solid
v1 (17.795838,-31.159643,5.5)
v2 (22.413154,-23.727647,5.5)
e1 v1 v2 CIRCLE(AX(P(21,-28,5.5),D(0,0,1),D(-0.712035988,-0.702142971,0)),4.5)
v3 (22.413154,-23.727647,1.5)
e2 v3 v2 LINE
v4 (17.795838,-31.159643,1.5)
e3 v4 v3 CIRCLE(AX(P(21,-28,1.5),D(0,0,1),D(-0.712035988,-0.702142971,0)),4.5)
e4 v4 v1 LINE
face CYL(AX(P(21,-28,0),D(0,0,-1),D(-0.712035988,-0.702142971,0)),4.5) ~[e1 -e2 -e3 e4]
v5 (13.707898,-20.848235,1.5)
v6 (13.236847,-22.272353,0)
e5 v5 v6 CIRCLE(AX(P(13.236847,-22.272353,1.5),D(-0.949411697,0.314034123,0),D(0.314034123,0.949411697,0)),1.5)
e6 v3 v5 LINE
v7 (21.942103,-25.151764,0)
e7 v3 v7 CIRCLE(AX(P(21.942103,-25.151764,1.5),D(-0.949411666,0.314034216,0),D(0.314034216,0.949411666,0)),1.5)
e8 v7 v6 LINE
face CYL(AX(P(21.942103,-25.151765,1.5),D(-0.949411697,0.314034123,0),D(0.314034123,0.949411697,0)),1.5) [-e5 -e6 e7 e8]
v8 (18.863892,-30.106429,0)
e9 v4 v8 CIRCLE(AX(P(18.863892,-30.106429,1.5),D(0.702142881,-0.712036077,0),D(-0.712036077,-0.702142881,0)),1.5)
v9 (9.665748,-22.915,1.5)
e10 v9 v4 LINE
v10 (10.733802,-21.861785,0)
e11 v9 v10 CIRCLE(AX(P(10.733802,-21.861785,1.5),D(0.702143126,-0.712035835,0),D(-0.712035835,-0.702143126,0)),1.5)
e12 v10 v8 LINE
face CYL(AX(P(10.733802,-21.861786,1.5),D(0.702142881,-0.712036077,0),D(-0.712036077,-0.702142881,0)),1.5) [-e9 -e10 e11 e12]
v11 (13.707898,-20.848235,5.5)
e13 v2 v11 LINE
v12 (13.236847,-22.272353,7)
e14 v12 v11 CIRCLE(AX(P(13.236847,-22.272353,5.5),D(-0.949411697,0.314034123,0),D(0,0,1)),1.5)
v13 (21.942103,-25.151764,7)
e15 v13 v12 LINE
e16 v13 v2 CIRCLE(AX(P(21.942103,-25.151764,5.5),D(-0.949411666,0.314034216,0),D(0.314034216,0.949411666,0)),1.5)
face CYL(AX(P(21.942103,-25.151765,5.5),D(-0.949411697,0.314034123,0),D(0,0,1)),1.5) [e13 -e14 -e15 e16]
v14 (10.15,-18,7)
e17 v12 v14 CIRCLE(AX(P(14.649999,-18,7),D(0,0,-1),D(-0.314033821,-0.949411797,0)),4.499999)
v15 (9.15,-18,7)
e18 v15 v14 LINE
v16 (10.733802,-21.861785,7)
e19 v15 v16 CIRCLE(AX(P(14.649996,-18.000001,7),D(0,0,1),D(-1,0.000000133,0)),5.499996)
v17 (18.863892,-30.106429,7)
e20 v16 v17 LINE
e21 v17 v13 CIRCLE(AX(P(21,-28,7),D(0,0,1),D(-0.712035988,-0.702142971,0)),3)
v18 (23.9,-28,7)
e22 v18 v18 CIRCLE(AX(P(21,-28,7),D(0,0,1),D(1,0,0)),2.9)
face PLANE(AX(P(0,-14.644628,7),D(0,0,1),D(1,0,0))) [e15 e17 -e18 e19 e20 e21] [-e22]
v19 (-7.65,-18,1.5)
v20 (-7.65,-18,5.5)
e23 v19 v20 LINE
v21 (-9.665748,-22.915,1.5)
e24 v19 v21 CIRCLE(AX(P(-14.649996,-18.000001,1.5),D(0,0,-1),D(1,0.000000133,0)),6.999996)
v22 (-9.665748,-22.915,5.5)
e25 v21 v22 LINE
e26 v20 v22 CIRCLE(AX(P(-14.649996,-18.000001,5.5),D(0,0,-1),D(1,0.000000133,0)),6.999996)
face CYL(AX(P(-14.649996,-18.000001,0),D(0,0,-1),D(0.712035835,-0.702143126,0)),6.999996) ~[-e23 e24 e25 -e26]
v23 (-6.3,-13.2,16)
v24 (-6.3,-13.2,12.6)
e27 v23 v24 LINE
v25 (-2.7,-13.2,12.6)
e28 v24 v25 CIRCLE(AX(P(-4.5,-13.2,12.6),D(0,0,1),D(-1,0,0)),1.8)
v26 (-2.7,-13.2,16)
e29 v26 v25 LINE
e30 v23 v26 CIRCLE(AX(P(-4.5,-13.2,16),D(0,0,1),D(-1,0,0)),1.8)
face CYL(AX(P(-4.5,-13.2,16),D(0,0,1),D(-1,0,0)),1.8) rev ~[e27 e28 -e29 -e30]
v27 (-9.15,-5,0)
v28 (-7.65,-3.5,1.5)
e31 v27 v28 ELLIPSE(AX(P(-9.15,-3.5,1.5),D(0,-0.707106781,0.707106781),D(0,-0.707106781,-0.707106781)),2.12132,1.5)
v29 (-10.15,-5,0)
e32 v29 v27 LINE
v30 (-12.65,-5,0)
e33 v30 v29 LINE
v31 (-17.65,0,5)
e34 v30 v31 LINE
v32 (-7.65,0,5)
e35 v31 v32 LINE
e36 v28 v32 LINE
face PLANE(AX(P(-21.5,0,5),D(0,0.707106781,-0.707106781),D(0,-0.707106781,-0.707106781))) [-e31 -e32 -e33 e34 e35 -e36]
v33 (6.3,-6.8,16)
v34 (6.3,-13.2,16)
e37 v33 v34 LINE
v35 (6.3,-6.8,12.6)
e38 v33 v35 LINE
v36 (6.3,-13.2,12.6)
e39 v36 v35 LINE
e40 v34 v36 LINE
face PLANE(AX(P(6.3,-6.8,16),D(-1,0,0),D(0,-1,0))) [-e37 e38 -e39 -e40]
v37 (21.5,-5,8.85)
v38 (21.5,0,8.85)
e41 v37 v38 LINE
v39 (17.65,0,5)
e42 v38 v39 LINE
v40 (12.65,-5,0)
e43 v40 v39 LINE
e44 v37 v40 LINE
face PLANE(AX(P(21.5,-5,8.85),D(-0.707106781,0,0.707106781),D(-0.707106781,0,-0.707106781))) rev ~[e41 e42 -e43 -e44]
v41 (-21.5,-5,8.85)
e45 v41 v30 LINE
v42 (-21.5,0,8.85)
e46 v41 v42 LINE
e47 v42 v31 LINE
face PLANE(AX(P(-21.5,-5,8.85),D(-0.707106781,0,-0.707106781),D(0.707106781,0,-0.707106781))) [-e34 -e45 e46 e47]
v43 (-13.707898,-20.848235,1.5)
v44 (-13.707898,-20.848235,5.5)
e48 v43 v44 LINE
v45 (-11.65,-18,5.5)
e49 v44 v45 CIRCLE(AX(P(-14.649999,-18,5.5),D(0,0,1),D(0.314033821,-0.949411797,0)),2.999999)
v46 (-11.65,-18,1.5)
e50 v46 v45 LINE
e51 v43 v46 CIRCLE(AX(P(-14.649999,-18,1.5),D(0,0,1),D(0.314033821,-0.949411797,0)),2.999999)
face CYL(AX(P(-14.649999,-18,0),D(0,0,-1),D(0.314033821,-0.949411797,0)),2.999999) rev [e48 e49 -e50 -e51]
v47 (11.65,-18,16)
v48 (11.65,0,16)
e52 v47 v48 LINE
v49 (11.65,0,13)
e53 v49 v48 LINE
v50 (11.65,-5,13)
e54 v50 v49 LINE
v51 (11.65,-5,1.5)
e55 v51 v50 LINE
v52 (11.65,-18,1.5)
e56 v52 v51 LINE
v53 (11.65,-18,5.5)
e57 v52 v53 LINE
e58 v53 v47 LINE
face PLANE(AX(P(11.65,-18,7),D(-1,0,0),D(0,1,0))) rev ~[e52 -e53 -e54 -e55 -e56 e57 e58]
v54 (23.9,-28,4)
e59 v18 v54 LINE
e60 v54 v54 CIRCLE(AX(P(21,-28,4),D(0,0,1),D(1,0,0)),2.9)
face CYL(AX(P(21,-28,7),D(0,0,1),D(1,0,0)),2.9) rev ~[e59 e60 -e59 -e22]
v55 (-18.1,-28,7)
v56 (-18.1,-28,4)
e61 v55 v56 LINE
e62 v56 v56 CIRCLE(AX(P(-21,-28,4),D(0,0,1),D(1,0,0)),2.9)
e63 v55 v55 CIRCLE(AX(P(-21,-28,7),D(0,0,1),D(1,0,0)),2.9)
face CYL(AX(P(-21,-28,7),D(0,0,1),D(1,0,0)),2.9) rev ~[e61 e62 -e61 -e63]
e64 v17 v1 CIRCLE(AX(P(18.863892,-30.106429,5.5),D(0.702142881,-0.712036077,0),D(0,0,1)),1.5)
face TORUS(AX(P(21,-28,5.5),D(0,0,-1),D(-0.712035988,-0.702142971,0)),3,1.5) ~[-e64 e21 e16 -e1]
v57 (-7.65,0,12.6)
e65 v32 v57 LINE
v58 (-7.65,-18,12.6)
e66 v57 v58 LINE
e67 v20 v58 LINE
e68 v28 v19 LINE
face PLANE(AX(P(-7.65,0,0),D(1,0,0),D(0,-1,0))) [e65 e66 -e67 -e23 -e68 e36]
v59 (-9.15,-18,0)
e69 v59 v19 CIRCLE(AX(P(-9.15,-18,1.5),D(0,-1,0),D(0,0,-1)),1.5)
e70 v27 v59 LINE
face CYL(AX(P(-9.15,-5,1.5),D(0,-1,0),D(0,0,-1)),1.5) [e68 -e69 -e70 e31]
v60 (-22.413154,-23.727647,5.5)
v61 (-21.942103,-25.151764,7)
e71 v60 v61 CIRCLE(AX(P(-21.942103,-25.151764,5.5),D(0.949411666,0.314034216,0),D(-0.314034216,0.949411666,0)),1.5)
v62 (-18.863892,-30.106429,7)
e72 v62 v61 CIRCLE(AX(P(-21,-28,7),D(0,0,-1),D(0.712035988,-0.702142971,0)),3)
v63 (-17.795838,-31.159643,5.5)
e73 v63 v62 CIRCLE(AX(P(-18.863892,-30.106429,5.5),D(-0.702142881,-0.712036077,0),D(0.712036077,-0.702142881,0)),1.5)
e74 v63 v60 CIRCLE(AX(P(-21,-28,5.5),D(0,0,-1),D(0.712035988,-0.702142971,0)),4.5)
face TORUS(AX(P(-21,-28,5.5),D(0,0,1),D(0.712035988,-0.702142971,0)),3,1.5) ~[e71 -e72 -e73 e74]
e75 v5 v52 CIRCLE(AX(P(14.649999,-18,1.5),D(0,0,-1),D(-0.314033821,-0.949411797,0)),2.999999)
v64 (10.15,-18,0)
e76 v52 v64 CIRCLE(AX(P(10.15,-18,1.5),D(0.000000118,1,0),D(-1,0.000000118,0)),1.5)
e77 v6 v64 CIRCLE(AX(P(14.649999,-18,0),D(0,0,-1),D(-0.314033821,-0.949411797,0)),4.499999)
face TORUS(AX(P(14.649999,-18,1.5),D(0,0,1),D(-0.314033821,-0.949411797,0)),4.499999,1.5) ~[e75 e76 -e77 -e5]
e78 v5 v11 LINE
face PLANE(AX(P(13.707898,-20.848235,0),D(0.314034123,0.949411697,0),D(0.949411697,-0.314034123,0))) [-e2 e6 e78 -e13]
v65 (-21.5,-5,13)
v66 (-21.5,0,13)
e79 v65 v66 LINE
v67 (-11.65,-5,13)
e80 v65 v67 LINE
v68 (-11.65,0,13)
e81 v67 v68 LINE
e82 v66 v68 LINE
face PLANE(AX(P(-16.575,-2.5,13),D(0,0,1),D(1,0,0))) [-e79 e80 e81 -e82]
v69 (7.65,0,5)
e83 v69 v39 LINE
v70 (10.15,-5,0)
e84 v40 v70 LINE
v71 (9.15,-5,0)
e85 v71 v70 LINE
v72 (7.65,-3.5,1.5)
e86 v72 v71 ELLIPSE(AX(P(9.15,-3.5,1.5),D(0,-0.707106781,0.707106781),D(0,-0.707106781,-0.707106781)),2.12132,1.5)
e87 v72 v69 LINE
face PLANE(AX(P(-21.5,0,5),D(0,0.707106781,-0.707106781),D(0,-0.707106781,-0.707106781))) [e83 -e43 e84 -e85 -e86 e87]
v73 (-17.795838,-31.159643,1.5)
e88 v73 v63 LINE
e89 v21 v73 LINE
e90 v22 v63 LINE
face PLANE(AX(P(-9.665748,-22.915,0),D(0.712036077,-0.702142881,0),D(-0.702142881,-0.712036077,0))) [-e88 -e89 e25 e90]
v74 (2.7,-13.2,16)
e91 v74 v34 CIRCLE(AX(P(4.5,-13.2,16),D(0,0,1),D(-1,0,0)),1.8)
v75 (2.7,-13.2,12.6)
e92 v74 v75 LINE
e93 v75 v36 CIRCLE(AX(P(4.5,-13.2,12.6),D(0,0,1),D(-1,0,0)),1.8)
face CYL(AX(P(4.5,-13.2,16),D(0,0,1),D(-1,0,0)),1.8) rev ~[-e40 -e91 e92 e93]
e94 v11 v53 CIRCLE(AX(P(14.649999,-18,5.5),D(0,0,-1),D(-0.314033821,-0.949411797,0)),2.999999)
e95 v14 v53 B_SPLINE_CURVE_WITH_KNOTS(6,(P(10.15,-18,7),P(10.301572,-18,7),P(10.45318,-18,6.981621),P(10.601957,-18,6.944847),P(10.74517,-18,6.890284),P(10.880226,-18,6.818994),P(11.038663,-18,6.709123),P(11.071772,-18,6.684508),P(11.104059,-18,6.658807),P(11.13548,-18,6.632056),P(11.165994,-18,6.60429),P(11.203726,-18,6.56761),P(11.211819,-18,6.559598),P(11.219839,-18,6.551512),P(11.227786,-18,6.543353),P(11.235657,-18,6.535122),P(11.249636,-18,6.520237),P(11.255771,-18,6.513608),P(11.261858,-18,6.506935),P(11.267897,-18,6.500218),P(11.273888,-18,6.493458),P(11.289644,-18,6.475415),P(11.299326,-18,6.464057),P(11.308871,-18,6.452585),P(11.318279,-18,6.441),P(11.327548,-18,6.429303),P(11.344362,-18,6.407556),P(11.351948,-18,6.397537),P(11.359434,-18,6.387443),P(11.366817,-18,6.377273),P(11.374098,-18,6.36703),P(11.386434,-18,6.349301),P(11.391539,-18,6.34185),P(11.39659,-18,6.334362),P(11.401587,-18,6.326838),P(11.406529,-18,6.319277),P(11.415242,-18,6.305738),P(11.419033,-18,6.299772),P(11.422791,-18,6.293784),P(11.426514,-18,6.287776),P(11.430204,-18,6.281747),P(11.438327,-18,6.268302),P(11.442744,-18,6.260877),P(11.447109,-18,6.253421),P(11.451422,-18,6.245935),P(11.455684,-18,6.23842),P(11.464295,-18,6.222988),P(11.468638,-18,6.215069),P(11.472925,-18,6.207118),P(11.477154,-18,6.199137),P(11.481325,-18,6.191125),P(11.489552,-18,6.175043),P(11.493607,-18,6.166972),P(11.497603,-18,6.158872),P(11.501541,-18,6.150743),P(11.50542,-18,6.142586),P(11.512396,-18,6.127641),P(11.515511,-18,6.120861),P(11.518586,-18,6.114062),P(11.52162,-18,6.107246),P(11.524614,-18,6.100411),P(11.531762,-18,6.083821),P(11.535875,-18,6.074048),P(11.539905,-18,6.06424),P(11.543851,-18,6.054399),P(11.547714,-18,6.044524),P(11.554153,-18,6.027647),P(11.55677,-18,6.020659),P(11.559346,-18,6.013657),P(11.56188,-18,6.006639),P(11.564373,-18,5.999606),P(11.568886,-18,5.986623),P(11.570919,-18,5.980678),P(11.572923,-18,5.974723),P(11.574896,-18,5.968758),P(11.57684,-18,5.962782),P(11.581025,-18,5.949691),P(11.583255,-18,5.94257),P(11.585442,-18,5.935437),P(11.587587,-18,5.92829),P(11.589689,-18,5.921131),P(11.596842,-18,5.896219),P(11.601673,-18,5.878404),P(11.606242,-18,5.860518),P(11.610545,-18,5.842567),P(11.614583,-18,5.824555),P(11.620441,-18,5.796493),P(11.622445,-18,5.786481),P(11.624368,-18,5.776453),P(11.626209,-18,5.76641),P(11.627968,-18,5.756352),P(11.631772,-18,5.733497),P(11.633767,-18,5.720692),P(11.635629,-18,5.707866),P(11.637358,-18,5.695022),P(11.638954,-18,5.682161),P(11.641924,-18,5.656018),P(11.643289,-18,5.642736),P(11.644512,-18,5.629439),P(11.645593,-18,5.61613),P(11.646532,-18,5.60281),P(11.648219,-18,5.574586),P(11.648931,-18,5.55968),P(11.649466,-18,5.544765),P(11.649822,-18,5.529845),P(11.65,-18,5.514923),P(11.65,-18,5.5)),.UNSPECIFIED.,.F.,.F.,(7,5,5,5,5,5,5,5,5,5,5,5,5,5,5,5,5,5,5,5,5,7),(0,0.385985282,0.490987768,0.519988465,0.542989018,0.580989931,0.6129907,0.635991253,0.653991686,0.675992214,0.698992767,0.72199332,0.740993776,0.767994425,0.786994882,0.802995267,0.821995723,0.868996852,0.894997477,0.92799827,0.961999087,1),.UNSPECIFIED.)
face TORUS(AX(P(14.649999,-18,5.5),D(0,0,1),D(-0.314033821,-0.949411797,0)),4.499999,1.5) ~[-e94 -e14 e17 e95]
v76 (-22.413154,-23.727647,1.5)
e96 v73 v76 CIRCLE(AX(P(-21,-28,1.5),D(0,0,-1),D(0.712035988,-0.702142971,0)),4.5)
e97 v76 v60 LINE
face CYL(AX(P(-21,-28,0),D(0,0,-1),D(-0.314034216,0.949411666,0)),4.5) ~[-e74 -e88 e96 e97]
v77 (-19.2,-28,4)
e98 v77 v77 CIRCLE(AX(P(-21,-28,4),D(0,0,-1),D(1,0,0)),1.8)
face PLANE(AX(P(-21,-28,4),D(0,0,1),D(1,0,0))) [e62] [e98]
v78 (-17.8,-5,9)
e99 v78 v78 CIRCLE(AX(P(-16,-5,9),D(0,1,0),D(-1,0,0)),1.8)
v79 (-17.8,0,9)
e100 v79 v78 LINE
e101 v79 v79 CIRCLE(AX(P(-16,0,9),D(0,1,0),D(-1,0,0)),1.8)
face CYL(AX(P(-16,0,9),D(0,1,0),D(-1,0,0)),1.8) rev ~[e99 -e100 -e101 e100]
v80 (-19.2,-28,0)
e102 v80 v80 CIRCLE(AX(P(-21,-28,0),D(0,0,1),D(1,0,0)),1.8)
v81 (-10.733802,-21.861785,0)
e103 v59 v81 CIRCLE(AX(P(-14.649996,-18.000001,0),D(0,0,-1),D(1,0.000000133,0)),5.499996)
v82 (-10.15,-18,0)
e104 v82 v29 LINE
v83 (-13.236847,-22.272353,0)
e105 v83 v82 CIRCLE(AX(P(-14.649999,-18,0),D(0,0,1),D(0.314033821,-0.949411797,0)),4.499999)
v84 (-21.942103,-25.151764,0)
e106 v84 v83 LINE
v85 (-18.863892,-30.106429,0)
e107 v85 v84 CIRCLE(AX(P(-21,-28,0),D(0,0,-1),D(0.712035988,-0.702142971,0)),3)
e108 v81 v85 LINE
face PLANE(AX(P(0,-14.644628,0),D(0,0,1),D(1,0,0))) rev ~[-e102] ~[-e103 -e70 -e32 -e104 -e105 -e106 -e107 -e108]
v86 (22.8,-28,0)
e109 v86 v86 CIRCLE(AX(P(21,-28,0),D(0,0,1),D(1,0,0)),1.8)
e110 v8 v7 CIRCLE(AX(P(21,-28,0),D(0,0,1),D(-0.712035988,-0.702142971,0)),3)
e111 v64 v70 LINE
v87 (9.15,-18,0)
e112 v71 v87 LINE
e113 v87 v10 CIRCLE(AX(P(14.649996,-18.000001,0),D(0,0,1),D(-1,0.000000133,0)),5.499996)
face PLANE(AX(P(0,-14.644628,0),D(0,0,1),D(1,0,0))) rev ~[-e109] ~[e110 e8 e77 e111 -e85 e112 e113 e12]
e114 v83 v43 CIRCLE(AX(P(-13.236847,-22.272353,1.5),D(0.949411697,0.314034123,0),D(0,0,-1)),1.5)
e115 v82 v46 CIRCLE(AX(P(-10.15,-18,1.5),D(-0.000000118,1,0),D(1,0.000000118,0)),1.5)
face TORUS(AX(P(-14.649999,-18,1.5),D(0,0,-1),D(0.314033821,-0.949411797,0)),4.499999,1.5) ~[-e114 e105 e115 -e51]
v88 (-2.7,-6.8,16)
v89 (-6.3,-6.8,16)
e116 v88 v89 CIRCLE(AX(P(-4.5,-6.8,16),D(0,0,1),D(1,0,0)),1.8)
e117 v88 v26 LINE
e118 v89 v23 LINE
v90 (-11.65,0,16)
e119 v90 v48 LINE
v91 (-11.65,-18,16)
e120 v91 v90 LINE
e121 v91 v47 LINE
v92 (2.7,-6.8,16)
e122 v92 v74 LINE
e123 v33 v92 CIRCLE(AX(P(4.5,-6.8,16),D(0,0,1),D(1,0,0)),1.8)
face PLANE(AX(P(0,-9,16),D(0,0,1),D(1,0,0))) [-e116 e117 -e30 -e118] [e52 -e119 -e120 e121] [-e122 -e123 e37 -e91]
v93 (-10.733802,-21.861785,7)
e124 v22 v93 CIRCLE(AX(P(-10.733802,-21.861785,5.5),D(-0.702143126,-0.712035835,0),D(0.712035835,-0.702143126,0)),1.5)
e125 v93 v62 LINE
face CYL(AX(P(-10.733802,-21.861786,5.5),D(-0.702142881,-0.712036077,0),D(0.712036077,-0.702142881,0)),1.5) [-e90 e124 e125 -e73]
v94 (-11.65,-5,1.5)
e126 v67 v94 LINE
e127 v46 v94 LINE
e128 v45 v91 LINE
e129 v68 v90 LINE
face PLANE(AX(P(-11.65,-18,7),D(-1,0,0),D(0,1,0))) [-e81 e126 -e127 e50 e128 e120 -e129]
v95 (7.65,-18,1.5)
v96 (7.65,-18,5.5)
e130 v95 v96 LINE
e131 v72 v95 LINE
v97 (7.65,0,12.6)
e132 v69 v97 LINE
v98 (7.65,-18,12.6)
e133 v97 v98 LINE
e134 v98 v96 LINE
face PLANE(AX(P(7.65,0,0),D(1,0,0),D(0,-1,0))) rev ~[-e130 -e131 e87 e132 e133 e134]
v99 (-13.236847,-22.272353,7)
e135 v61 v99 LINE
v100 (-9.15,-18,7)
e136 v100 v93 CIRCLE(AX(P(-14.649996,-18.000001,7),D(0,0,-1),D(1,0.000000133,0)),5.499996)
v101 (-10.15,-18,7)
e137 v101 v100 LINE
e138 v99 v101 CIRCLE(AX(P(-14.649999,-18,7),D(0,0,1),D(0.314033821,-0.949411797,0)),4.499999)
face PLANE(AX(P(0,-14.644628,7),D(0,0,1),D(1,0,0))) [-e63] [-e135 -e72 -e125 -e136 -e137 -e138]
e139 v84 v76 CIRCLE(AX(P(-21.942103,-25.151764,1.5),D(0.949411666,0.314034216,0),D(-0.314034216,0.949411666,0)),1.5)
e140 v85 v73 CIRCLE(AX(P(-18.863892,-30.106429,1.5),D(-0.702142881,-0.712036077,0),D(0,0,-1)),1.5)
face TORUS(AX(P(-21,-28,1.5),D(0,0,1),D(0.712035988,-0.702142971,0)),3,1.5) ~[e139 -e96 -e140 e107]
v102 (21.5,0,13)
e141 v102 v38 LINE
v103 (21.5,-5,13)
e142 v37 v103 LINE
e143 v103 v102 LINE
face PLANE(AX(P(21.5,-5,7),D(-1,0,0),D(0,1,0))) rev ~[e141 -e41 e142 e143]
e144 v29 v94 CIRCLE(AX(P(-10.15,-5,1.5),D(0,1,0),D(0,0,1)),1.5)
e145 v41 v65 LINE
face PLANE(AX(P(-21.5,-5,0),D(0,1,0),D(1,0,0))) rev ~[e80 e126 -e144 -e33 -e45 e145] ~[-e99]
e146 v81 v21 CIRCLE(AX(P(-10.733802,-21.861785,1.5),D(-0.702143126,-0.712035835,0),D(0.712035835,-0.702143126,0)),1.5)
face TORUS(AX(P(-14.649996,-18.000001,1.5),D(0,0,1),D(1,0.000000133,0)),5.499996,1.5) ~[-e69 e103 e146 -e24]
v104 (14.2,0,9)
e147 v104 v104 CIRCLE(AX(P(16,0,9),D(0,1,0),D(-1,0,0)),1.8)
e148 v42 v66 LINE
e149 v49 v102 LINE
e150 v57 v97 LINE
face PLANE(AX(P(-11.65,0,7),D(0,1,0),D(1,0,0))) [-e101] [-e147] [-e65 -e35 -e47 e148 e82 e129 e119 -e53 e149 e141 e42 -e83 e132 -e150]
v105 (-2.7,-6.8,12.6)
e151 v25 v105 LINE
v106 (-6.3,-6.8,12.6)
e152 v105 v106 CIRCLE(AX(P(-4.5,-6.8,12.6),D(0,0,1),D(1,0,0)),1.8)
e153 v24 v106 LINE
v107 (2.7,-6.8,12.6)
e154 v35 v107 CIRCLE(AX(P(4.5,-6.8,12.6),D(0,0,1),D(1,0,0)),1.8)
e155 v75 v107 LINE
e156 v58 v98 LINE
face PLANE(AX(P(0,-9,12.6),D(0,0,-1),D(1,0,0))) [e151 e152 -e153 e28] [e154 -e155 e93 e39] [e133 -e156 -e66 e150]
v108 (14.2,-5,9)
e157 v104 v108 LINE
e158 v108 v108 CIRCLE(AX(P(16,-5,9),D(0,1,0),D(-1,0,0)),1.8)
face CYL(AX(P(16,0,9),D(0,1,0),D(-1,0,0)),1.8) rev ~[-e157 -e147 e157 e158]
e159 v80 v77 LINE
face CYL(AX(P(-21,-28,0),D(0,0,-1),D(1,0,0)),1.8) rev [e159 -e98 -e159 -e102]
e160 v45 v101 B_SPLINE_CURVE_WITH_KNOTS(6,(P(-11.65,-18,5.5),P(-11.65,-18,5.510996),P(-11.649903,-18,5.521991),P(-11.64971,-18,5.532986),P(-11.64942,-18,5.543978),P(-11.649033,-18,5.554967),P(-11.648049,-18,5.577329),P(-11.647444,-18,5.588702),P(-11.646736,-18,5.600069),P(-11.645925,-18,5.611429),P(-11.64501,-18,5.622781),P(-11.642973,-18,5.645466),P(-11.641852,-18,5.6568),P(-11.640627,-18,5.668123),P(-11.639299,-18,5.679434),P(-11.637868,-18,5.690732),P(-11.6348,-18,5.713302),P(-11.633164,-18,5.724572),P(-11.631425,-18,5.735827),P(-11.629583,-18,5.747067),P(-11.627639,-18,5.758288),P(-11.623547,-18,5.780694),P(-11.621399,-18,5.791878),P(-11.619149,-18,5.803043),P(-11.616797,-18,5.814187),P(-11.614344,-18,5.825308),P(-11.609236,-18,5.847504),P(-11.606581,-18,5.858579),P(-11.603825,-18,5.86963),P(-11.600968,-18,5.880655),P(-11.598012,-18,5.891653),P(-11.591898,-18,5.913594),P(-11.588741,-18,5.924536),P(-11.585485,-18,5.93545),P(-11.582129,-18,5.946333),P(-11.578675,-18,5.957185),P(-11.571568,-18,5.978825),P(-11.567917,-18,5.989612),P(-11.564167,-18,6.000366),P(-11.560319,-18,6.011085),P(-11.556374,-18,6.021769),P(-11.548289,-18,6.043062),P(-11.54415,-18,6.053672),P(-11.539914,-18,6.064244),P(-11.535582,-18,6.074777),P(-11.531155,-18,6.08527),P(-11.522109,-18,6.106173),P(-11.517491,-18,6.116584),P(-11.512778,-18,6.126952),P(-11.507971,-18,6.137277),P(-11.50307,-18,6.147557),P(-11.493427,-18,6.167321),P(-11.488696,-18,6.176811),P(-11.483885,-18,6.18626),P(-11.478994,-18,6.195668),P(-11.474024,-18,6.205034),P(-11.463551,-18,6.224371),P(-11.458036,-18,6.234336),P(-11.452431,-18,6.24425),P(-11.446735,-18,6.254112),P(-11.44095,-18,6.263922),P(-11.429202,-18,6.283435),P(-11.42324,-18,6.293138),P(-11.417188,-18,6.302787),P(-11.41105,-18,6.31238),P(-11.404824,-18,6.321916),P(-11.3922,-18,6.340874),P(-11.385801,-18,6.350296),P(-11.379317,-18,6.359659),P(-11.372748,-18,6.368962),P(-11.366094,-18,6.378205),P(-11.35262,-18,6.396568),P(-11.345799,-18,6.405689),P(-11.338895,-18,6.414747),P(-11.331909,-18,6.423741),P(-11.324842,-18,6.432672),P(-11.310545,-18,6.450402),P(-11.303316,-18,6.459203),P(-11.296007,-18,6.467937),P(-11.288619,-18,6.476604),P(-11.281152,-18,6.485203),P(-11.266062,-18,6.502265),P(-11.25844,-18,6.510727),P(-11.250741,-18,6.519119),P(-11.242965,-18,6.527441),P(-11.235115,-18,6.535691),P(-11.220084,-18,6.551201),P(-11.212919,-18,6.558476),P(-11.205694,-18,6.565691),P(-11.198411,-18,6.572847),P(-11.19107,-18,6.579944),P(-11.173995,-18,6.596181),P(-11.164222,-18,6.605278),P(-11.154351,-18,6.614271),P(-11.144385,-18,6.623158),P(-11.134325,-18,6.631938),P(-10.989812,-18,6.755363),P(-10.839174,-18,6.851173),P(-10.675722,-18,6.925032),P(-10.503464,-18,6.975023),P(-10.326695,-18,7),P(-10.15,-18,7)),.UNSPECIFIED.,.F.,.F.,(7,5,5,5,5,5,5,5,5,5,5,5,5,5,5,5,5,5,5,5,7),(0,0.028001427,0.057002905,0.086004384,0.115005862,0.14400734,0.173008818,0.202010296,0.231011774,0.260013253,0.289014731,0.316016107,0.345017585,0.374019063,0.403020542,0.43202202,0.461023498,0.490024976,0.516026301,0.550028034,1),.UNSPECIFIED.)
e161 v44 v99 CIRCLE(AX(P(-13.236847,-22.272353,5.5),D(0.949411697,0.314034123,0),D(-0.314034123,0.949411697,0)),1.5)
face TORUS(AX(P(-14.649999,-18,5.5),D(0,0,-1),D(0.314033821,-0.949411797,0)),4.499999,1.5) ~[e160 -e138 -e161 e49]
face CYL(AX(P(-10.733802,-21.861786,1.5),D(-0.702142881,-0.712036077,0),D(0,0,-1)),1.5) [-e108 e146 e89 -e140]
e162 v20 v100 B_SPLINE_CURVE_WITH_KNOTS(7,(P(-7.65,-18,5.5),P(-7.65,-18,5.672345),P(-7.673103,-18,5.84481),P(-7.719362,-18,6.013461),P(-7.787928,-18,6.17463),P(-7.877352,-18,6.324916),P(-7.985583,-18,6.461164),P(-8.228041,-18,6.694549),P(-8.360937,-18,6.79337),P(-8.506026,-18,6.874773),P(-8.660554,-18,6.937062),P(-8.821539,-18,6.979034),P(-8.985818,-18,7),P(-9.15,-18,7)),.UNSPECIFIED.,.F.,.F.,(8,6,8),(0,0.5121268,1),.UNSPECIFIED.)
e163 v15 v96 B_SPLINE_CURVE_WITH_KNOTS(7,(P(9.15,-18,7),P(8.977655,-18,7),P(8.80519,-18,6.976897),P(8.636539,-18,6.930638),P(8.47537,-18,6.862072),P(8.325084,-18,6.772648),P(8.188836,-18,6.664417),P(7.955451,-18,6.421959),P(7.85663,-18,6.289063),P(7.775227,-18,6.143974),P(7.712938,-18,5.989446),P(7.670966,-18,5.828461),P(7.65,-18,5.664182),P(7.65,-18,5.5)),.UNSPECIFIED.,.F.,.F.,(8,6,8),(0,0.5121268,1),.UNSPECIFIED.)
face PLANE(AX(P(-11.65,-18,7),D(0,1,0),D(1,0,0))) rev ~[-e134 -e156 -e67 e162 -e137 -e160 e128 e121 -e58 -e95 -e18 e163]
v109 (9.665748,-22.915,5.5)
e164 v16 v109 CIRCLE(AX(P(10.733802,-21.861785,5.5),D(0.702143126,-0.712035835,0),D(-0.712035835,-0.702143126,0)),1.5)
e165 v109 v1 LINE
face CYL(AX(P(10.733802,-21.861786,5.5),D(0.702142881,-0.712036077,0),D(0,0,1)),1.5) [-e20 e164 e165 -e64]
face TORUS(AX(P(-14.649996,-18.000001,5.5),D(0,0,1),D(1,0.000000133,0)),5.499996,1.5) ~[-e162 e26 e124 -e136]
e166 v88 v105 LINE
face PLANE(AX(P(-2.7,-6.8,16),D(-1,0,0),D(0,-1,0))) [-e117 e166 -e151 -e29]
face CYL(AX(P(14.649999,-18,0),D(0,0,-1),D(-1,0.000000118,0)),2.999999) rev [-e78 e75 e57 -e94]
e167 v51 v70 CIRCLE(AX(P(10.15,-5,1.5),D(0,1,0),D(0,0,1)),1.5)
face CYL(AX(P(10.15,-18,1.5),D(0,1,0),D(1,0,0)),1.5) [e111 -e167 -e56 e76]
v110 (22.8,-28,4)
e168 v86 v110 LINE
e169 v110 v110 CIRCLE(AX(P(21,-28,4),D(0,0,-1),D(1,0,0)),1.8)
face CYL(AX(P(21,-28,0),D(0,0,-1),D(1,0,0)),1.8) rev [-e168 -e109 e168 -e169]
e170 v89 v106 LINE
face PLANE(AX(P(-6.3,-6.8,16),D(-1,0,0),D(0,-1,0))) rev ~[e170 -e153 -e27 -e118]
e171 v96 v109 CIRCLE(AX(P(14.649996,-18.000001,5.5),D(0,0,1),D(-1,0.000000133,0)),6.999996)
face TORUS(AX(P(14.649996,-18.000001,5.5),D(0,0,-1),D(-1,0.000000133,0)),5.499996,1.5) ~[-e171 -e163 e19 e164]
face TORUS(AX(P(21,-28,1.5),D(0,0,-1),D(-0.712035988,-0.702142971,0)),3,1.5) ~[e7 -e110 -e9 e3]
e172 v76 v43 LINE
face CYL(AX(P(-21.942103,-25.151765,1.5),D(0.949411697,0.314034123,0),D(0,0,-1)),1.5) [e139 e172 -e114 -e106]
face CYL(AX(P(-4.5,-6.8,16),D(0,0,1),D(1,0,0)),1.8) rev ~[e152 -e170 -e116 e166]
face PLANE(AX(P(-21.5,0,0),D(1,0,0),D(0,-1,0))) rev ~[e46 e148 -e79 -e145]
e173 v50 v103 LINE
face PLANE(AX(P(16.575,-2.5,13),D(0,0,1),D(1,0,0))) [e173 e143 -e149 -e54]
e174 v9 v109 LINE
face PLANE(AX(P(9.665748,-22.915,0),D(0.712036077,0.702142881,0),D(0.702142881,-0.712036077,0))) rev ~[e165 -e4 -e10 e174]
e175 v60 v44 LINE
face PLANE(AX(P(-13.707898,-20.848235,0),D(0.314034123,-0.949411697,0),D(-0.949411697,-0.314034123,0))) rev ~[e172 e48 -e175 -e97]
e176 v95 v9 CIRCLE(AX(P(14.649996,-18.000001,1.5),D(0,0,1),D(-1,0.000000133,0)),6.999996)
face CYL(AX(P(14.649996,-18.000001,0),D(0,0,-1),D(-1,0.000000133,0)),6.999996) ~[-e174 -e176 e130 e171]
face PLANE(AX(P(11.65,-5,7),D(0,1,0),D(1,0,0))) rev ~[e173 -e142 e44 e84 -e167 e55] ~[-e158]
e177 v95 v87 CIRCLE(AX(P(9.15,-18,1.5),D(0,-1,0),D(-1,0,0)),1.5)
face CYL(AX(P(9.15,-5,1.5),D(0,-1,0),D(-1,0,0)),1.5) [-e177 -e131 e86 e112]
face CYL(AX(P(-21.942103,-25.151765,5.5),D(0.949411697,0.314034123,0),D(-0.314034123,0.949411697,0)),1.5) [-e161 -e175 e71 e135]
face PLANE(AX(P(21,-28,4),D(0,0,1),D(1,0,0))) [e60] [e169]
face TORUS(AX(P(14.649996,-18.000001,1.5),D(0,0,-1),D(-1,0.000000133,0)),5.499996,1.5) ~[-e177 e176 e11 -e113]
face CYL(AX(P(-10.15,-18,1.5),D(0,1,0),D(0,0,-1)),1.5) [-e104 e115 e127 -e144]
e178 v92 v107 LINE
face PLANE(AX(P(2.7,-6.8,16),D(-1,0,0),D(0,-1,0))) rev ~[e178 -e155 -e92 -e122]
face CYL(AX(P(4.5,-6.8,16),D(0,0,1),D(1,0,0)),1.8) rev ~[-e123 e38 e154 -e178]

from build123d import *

# Parameters (mm, degrees)
SKETCH_R        = 1.8
PAD_DEPTH       = 7
SKETCH001_R     = 2.9
POCKET_DEPTH    = 3
SKETCH002_W     = 9.85
SKETCH002_H     = 5
PAD001_DEPTH    = 6
SKETCH005_R     = 1.8
POCKET002_DEPTH = 5
SKETCH003_W     = 23.3
SKETCH003_H     = 18
PAD002_DEPTH    = 9
SKETCH004_W     = 15.3
SKETCH004_H     = 18
POCKET001_DEPTH = 12.6
POCKET003_DEPTH = 47.001
POCKET004_DEPTH = 5
POCKET005_DEPTH = 16.001
FILLET_R        = 1.5


with BuildPart() as part:
    # Sketch → Pad (new body)
    with BuildSketch(Plane.XY):
        with BuildLine():
            Line((-21.5, 0), (-21.5, -5))
            Line((-21.5, -5), (-11.65, -5))
            Line((-11.65, -5), (-11.65, -18))
            ThreePointArc((-13.707898, -20.848235), (-12.218302, -19.756942), (-11.65, -18))
            Line((-13.707898, -20.848235), (-22.413154, -23.727647))
            ThreePointArc((-22.413154, -23.727647), (-24.822377, -30.374749), (-17.795838, -31.159643))
            Line((-9.665748, -22.915), (-17.795838, -31.159643))
            ThreePointArc((-9.665748, -22.915), (-8.173513, -20.656147), (-7.65, -18))
            Line((-7.65, -18), (7.65, -18))
            ThreePointArc((7.65, -18), (8.173513, -20.656147), (9.665748, -22.915))
            Line((9.665748, -22.915), (17.795838, -31.159643))
            ThreePointArc((17.795838, -31.159643), (24.822377, -30.374749), (22.413154, -23.727647))
            Line((13.707898, -20.848235), (22.413154, -23.727647))
            ThreePointArc((11.65, -18), (12.218302, -19.756942), (13.707898, -20.848235))
            Line((11.65, -5), (11.65, -18))
            Line((21.5, -5), (11.65, -5))
            Line((21.5, -5), (21.5, 0))
            Line((21.5, 0), (-21.5, 0))
        make_face()
        with Locations((-21, -28)):
            Circle(SKETCH_R, mode=Mode.SUBTRACT)
        with Locations((21, -28)):
            Circle(SKETCH_R, mode=Mode.SUBTRACT)
    extrude(amount=PAD_DEPTH)

    # Sketch001 (on Face22 of Pad) → Pocket (cut)
    with BuildSketch(Plane.XY.offset(7)):
        with Locations((-21, -28)):
            Circle(SKETCH001_R)
        with Locations((21, -28)):
            Circle(SKETCH001_R)
    extrude(amount=-POCKET_DEPTH, mode=Mode.SUBTRACT)

    # Sketch002 (on Face5 of Pocket) → Pad001 (join)
    with BuildSketch(Plane.XY.offset(7)):
        with Locations((16.575, -2.5)):
            Rectangle(SKETCH002_W, SKETCH002_H)
        with Locations((-16.575, -2.5)):
            Rectangle(SKETCH002_W, SKETCH002_H)
    extrude(amount=PAD001_DEPTH)

    # Sketch005 (on Face29 of Pad001) → Pocket002 (cut)
    with BuildSketch(Plane(origin=(0, 0, 0), x_dir=(-1, 0, 0), z_dir=(0, 1, 0))):
        with Locations((-16, 9)):
            Circle(SKETCH005_R)
        with Locations((16, 9)):
            Circle(SKETCH005_R)
    extrude(amount=-POCKET002_DEPTH, mode=Mode.SUBTRACT)

    # Sketch003 (on Face3 of Pad001) → Pad002 (join)
    with BuildSketch(Plane.XY.offset(7)):
        with Locations((0, -9)):
            Rectangle(SKETCH003_W, SKETCH003_H)
    extrude(amount=PAD002_DEPTH)

    # Sketch004 (on Face1 of Pad002) → Pocket001 (cut)
    with BuildSketch(Plane(origin=(0, 0, 0), x_dir=(1, 0, 0), z_dir=(0, 0, -1))):
        with Locations((0, 9)):
            Rectangle(SKETCH004_W, SKETCH004_H)
    extrude(amount=-POCKET001_DEPTH, mode=Mode.SUBTRACT)

    # Sketch006 (on Face21 of Pocket001) → Pocket003 (cut, through all)
    with BuildSketch(Plane(origin=(-21.5, 0, 0), x_dir=(0, -1, 0), z_dir=(-1, 0, 0))):
        Polygon((5, 0), (0, 0), (0, 5), align=None)
    extrude(amount=-POCKET003_DEPTH, mode=Mode.SUBTRACT)

    # Sketch007 (on Face1 of Pocket003) → Pocket004 (cut)
    with BuildSketch(Plane.XZ.offset(5)):
        Polygon((-21.5, 0), (-21.5, 8.85), (-12.65, 0), align=None)
        Polygon((21.5, 0), (21.5, 8.85), (12.65, 0), align=None)
    extrude(amount=-POCKET004_DEPTH, mode=Mode.SUBTRACT)

    # Sketch008 (on Face11 of Pocket004) → Pocket005 (cut, through all)
    with BuildSketch(Plane.XY.offset(16)):
        with BuildLine():
            ThreePointArc((-2.7, -6.8), (-4.5, -5), (-6.3, -6.8))
            Line((-6.3, -6.8), (-6.3, -13.2))
            ThreePointArc((-6.3, -13.2), (-4.5, -15), (-2.7, -13.2))
            Line((-2.7, -6.8), (-2.7, -13.2))
        make_face()
        with BuildLine():
            ThreePointArc((6.3, -6.8), (4.5, -5), (2.7, -6.8))
            Line((2.7, -6.8), (2.7, -13.2))
            ThreePointArc((2.7, -13.2), (4.5, -15), (6.3, -13.2))
            Line((6.3, -6.8), (6.3, -13.2))
        make_face()
    extrude(amount=-POCKET005_DEPTH, mode=Mode.SUBTRACT)

    # Fillet
    fillet_edges = [part.edges().sort_by_distance(p)[0] for p in [
        (-7.65, -11.5, 0),
        (7.65, -11.5, 0),
        (-13.730793, -27.037322, 7),
        (13.730793, -27.037322, 7),
    ]]
    fillet(fillet_edges, radius=FILLET_R)


solid = part.part
